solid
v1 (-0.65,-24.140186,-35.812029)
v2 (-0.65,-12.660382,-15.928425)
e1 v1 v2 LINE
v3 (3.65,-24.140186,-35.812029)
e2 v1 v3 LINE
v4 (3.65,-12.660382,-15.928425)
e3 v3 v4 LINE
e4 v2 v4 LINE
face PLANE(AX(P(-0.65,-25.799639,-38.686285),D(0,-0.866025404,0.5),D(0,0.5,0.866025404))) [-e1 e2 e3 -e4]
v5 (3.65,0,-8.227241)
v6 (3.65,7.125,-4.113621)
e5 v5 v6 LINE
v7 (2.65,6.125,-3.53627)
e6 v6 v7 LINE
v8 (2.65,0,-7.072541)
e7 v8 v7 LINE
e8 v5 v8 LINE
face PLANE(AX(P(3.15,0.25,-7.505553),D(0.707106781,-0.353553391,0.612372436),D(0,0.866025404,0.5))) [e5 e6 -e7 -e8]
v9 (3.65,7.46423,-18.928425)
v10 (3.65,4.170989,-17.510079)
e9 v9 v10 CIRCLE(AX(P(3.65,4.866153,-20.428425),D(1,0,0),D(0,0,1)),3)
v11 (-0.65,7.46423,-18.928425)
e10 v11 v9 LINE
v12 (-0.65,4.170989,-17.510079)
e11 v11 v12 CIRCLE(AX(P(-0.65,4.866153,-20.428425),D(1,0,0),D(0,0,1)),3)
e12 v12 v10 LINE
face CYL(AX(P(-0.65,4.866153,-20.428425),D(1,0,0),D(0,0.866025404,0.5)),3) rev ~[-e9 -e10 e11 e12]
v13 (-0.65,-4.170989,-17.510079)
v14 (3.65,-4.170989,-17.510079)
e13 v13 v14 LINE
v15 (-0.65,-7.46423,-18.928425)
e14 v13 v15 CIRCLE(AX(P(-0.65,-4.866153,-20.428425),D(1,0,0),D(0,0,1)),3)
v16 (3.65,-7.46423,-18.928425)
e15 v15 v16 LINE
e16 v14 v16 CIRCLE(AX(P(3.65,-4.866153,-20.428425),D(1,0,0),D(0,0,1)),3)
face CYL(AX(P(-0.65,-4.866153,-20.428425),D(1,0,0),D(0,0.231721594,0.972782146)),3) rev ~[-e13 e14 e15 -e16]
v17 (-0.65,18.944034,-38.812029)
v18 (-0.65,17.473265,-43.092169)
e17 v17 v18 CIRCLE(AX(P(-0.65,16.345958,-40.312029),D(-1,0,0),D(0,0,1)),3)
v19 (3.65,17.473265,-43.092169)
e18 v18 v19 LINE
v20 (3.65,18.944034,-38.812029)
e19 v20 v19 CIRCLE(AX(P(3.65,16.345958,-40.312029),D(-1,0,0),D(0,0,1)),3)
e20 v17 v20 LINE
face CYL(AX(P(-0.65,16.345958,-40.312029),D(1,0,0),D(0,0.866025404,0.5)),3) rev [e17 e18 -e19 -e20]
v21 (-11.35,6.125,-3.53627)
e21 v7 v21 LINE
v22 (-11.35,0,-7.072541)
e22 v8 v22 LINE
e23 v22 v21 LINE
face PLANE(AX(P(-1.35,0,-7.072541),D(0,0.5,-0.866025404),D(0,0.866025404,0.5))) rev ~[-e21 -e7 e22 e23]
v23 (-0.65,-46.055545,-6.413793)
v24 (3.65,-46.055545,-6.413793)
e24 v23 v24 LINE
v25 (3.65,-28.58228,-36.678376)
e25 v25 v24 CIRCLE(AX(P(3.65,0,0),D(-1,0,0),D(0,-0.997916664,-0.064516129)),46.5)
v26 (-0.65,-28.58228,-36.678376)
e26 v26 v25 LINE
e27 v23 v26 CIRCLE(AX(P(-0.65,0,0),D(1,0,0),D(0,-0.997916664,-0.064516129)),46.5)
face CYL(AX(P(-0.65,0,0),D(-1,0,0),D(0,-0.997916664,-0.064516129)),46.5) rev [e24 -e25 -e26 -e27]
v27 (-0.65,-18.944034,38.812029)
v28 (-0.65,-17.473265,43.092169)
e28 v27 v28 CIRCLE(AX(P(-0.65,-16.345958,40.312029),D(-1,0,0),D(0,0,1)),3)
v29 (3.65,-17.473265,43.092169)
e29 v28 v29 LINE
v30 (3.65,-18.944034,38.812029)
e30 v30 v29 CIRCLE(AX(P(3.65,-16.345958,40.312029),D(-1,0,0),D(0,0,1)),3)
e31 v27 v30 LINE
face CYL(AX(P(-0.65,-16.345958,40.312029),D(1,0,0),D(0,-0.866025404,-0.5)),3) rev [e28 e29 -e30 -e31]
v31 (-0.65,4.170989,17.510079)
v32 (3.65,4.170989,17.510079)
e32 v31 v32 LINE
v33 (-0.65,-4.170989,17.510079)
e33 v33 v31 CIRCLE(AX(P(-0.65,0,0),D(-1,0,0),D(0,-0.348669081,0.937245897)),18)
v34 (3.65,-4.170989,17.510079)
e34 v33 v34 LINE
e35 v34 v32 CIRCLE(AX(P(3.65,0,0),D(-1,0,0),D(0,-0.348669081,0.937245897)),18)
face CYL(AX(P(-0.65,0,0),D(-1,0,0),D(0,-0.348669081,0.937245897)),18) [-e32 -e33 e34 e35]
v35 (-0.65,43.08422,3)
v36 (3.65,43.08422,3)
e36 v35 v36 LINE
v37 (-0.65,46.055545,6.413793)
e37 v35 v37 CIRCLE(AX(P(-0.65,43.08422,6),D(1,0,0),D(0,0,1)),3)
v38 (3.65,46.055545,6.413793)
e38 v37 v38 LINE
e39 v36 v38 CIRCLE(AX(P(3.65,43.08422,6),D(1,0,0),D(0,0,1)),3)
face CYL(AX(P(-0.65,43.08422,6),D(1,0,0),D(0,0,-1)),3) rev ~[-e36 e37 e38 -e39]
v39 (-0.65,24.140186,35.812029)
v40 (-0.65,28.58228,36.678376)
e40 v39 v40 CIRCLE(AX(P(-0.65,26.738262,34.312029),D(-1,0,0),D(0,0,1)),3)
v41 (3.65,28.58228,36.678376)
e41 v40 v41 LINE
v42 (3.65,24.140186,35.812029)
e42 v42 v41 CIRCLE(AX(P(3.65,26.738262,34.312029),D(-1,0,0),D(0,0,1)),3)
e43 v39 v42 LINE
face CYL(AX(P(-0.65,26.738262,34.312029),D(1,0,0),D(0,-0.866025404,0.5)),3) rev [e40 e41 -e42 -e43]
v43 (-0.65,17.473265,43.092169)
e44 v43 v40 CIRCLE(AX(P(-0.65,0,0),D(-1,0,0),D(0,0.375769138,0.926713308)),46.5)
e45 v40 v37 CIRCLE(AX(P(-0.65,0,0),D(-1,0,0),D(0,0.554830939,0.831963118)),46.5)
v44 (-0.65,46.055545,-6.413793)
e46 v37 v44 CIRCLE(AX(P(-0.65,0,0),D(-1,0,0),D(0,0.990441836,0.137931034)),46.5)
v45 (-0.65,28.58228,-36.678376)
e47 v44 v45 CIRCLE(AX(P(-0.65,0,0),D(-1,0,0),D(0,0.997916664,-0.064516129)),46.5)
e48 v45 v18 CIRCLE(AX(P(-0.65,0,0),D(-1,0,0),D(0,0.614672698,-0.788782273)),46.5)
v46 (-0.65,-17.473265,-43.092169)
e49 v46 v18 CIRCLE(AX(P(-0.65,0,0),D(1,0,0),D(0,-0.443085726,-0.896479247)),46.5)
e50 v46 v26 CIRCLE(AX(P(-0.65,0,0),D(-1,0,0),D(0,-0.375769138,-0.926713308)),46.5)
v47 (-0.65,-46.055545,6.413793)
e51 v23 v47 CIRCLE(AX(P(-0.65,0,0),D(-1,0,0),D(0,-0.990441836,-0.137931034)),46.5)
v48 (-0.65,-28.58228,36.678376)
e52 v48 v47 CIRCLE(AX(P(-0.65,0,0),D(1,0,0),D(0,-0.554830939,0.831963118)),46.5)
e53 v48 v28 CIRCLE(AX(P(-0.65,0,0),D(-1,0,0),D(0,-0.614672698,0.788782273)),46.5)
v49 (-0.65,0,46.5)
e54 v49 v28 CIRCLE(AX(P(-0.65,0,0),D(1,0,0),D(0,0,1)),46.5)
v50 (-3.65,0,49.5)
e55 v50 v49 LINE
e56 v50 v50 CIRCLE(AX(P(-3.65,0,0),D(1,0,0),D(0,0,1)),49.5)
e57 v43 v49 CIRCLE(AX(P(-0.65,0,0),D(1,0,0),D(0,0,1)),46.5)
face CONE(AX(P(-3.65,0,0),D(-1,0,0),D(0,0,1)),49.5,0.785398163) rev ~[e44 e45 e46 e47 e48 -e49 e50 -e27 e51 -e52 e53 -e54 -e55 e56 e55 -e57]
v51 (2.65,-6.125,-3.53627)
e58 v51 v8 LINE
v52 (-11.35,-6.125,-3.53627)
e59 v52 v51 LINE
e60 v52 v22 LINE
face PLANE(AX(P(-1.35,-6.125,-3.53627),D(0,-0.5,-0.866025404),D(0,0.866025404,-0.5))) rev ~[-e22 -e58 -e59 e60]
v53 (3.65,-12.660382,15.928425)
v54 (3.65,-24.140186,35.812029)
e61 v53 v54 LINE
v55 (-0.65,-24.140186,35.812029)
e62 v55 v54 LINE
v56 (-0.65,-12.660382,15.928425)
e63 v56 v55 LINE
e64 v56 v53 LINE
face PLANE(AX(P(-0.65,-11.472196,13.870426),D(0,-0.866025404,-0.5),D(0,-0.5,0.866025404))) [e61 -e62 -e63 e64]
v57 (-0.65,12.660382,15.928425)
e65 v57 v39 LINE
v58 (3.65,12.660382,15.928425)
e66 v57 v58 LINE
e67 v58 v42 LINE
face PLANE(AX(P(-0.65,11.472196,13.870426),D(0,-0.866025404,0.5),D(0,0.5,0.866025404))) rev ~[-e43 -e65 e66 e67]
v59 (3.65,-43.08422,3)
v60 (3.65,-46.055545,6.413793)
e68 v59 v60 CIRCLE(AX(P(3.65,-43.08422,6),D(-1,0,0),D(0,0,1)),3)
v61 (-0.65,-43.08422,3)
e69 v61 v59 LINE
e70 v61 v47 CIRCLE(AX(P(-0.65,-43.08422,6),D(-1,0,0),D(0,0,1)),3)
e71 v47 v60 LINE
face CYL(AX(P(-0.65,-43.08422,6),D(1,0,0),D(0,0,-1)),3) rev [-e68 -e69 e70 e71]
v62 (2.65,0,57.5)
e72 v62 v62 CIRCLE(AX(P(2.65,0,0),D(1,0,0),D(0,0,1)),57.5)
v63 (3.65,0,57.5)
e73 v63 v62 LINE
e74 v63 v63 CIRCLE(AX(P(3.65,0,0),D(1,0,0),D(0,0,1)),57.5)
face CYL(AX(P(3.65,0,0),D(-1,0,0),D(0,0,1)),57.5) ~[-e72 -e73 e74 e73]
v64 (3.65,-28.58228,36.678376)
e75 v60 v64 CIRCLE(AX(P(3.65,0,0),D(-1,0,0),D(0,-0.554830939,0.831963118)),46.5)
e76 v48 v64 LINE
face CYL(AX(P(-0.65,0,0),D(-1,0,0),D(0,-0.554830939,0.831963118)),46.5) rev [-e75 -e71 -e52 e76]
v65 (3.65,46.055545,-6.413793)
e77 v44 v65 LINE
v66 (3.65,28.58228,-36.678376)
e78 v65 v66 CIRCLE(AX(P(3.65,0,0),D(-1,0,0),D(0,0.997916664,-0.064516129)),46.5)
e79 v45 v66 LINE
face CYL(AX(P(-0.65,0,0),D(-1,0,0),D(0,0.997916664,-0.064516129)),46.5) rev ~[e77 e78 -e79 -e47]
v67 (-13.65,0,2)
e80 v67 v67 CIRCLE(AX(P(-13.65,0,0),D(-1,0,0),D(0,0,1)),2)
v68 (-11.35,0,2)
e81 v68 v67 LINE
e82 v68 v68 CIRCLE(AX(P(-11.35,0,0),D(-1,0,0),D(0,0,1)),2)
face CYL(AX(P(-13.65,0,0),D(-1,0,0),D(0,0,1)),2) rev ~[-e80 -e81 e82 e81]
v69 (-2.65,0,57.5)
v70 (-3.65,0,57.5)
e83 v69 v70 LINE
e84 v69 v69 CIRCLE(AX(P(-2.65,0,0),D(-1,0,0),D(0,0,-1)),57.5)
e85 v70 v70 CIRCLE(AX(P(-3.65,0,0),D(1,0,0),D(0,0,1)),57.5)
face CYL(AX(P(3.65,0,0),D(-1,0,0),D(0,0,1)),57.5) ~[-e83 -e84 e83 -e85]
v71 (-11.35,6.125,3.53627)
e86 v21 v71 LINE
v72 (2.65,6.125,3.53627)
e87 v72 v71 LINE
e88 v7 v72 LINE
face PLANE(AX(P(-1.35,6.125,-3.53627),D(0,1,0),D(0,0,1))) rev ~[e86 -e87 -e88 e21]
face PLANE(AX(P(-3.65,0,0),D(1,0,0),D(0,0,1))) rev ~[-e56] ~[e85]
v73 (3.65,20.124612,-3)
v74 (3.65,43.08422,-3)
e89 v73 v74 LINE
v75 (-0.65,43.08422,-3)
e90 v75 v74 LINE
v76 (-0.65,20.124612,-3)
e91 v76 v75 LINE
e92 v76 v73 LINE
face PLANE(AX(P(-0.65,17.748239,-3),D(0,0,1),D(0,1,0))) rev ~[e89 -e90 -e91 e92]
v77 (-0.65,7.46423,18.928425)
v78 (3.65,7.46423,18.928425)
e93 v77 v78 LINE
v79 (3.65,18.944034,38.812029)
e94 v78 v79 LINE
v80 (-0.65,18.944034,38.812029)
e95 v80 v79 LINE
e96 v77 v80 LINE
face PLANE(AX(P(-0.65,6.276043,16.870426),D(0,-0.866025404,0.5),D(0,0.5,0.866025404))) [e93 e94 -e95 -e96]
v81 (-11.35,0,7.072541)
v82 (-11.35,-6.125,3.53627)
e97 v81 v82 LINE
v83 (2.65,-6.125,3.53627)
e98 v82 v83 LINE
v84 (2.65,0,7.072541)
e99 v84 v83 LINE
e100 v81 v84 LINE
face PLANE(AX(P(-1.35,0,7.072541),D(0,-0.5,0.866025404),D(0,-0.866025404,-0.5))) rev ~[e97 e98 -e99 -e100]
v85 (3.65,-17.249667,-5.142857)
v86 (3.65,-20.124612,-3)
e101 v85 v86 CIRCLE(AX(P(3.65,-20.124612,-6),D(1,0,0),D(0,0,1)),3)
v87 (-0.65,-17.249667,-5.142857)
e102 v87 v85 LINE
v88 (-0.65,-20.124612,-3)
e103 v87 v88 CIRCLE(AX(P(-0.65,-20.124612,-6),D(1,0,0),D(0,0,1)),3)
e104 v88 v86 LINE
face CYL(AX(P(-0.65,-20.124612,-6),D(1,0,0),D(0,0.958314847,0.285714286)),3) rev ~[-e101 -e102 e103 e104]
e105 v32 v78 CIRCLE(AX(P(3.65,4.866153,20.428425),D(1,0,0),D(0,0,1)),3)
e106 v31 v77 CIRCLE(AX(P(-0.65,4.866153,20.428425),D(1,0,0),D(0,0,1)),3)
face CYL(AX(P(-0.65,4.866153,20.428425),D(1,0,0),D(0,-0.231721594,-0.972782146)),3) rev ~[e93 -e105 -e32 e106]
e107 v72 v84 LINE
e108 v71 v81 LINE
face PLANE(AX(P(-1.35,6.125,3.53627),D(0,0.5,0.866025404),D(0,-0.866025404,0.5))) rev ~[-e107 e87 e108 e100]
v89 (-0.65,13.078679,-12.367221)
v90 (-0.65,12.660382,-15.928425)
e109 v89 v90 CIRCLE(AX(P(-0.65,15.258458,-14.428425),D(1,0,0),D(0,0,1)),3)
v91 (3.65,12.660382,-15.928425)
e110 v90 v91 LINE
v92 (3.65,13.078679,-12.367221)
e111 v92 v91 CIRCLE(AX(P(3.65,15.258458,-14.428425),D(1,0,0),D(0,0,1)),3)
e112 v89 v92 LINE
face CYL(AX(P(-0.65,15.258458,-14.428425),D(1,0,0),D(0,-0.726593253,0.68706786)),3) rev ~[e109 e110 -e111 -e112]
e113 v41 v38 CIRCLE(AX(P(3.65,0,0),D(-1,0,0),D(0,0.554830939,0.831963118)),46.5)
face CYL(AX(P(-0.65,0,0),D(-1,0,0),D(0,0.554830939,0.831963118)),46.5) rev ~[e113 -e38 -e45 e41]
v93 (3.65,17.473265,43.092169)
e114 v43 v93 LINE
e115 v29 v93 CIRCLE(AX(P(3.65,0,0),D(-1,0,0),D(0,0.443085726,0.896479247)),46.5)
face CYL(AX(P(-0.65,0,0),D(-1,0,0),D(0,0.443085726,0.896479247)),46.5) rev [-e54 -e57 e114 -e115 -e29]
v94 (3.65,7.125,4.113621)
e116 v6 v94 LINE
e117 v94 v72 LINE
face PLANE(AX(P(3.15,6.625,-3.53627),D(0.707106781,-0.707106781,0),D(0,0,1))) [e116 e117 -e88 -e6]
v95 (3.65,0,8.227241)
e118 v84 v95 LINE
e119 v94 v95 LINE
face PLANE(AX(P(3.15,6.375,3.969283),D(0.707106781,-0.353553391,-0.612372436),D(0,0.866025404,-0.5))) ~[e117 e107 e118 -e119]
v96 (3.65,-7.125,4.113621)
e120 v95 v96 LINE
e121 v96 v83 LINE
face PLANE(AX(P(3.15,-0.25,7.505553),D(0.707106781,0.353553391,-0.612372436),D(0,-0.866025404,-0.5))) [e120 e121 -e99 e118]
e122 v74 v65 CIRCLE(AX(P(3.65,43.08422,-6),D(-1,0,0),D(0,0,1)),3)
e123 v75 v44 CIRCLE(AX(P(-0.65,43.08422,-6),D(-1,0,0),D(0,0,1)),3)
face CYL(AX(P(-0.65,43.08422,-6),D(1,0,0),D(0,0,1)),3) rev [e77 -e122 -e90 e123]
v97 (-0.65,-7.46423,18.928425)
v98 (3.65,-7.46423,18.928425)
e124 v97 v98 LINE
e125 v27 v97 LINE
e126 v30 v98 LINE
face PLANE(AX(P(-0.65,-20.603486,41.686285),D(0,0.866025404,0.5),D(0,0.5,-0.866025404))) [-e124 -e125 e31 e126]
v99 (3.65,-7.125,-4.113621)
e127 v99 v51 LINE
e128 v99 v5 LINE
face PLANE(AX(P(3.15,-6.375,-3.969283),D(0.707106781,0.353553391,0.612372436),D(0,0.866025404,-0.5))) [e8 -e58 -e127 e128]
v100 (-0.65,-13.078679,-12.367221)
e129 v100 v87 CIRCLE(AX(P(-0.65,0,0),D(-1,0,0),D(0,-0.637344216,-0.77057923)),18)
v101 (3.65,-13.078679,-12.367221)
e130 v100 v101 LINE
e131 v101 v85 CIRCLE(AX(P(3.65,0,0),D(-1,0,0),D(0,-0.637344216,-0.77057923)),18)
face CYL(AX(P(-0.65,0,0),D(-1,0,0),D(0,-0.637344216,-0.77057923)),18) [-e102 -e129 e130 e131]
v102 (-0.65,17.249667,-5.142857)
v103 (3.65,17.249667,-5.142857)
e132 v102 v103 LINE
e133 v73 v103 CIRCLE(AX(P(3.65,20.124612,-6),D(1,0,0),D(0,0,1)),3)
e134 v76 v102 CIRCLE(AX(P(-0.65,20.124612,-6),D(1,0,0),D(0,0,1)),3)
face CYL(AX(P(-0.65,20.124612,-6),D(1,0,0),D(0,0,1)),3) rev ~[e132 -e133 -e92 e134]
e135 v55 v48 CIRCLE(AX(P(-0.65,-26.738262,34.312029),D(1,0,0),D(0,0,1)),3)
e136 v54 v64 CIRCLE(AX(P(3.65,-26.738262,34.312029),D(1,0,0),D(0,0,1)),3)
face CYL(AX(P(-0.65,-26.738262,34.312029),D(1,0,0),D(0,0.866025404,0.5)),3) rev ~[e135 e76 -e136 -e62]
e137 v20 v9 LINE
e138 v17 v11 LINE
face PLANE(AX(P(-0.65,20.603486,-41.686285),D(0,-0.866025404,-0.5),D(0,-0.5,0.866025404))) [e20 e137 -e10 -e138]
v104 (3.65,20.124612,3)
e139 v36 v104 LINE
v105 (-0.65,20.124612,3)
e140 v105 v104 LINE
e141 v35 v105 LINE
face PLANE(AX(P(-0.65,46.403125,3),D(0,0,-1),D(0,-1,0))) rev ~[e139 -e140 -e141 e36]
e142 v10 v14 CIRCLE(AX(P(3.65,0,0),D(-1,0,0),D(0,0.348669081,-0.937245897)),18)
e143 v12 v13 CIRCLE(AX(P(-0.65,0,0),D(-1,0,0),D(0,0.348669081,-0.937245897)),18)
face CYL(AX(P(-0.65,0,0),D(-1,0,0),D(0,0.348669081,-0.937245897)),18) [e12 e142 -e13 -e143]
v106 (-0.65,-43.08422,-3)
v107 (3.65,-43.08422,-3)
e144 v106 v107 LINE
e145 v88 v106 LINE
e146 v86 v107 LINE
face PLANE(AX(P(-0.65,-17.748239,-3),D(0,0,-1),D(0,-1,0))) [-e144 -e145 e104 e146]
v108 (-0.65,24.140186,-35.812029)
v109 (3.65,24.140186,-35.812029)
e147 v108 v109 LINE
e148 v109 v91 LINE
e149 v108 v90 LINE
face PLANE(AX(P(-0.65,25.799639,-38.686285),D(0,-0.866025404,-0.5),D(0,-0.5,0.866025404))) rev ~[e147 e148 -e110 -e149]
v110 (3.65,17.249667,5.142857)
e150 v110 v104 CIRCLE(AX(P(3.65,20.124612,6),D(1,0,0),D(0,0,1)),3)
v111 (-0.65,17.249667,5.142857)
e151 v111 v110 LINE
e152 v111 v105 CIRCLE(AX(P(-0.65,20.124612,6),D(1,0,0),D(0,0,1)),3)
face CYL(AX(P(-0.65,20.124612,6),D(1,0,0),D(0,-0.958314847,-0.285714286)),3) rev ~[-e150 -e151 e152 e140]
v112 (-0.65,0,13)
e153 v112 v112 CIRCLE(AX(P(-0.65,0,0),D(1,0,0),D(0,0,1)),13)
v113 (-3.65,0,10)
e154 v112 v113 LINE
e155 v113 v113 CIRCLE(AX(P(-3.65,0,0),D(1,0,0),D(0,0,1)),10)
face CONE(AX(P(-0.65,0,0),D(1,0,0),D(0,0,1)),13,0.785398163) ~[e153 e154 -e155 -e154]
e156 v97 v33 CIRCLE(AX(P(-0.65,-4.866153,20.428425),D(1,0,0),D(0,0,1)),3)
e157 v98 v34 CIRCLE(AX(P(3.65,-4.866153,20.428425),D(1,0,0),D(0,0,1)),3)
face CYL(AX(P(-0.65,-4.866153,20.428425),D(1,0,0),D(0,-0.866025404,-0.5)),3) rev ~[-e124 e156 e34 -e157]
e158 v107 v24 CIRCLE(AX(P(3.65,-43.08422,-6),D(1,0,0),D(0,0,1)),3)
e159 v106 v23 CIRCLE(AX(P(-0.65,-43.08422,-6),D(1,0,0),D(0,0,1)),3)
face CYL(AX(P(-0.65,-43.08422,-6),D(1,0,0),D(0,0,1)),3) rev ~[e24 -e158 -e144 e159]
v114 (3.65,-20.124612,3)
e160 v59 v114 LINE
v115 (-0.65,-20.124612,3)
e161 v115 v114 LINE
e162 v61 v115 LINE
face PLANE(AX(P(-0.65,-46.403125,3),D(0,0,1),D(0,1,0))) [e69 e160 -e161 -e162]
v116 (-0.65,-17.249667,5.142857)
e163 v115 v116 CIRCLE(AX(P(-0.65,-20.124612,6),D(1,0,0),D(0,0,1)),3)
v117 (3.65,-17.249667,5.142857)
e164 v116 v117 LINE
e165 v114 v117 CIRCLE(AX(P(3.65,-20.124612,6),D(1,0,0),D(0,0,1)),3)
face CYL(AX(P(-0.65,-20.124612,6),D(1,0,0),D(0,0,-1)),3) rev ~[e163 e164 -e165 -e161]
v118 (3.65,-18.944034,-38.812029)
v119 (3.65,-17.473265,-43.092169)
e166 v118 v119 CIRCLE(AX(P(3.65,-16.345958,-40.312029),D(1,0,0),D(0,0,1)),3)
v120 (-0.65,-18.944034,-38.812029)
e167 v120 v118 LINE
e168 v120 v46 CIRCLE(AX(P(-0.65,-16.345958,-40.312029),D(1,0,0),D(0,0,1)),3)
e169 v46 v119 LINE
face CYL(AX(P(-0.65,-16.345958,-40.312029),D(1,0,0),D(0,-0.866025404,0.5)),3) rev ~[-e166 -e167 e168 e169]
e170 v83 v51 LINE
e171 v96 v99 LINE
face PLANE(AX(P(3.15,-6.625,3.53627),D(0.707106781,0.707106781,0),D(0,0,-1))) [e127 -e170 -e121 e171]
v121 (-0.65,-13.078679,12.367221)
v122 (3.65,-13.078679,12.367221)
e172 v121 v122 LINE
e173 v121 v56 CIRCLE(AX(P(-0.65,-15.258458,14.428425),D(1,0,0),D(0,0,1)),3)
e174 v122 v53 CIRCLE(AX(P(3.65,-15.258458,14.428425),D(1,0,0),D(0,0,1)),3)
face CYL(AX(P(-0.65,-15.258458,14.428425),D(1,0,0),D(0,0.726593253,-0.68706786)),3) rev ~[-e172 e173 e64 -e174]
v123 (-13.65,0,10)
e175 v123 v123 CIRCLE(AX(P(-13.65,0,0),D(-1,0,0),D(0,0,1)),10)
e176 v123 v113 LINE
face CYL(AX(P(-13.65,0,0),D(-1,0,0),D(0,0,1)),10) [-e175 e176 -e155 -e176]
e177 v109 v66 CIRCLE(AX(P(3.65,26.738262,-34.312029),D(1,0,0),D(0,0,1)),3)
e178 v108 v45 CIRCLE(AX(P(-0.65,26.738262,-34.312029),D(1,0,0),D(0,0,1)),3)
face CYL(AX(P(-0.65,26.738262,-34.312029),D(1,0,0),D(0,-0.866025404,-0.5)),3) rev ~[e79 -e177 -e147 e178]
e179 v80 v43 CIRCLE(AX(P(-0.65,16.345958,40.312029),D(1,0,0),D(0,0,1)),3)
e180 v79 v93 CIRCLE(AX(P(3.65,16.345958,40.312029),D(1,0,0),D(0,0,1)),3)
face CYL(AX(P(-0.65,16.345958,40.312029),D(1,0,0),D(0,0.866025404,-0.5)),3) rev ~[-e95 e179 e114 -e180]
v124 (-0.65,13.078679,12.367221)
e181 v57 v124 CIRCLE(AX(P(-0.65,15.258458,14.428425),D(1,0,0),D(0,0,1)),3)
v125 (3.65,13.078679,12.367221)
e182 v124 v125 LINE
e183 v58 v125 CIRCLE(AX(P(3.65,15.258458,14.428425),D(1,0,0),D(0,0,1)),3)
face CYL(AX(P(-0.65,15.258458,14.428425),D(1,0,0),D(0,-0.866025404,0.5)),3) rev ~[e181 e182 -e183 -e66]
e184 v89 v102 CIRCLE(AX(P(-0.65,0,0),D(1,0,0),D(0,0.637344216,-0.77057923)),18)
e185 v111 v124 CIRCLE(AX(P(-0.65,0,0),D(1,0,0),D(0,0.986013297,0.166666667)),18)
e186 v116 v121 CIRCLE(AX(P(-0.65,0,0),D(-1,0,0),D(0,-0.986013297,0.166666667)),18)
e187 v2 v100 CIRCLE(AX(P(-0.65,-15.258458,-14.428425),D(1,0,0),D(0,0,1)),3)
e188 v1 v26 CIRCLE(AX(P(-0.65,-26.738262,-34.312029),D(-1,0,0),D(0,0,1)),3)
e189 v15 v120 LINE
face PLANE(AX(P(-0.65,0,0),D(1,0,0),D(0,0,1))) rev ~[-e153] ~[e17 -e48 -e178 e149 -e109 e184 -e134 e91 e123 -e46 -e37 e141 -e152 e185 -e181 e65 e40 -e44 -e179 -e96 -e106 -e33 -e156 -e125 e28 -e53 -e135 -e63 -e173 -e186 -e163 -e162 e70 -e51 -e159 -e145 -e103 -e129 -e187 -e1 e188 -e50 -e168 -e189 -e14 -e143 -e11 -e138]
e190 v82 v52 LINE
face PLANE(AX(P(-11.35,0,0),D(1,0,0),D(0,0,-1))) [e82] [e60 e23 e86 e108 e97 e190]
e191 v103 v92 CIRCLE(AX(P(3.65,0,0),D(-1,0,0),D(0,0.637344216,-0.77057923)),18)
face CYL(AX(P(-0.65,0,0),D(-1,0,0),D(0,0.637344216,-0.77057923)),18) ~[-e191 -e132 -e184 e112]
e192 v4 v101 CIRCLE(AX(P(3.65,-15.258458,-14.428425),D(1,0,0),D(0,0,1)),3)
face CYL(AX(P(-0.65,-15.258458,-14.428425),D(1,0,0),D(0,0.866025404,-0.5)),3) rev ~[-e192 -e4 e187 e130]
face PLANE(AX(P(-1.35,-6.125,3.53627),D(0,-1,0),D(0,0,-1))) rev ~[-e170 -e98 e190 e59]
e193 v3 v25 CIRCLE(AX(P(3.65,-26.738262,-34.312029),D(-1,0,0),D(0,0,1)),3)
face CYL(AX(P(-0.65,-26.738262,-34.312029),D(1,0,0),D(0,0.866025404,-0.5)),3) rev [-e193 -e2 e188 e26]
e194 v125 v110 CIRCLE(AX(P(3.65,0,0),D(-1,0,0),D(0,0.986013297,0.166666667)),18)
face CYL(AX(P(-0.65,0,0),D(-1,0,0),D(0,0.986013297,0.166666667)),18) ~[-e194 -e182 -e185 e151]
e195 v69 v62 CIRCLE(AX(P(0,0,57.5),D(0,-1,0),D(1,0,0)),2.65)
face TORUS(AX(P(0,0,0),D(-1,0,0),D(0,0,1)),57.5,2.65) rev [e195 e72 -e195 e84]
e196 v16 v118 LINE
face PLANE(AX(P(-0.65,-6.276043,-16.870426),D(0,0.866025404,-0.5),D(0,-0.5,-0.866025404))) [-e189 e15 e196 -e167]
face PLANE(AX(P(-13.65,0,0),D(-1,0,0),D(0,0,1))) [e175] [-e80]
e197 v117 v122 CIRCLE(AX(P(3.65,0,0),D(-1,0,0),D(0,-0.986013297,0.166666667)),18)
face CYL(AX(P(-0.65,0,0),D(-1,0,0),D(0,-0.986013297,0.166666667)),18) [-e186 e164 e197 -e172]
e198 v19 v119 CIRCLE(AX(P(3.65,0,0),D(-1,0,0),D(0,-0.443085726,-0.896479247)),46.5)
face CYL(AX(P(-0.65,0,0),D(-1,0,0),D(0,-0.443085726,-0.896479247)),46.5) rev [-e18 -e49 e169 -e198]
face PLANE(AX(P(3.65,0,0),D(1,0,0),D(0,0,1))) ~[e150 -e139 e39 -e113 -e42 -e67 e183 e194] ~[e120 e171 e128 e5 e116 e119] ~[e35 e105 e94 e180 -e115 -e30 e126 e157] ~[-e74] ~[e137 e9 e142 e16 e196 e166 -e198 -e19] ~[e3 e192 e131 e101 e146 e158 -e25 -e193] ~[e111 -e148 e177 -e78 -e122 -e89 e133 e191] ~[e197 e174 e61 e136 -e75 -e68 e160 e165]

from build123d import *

# Parameters (mm, degrees)
SKETCH2_R           = 2.649999999999999
CUT_EXTRUDE1_DEPTH  = 5
SKETCH5_R           = 2
CUT_EXTRUDE2_DEPTH  = 5
BOSS_EXTRUDE1_START = 10
SKETCH6_R           = 10
SKETCH6_R_2         = 2
BOSS_EXTRUDE1_DEPTH = 10
CUT_EXTRUDE3_DEPTH  = 10
CUT_EXTRUDE4_DEPTH  = 90.00000000000003
FILLET1_R           = 3
CHAMFER1_SIZE       = 1


with BuildPart() as part:
    # Sketch1 → Revolve1 (revolve)
    with BuildSketch(Plane(origin=(0, 0, 0), x_dir=(1, 0, 0), z_dir=(0, 1, 0)), mode=Mode.PRIVATE) as revolve1_sk:
        Polygon((3.65, 0), (3.65, 57.5), (-3.65, 57.5), (-3.65, 49.5), (-0.6499999999999997, 46.5), (-0.6499999999999951, 16.5), (-0.6499999999999819, 12.999999999999988), (-3.650000000000002, 9.999999999999792), (-3.65, 0), align=None)
    revolve(revolve1_sk.sketch.rotate(Axis((-3.65, 0, 0), (1, 0, 0)), 180), axis=Axis((-3.65, 0, 0), (1, 0, 0)))

    # Sketch2 → Cut-Revolve1 (revolve, cut)
    with BuildSketch(Plane(origin=(0, 0, 0), x_dir=(1, 0, 0), z_dir=(0, 1, 0)), mode=Mode.PRIVATE) as cut_revolve1_sk:
        with Locations((0, 57.5)):
            Circle(SKETCH2_R)
    revolve(cut_revolve1_sk.sketch.rotate(Axis((-3.65, 0, 0), (1, 0, 0)), 180), axis=Axis((-3.65, 0, 0), (1, 0, 0)), mode=Mode.SUBTRACT)

    # Sketch4 → Cut-Extrude1 (cut)
    with BuildSketch(Plane(origin=(3.65, 0, 0), x_dir=(0, 0, -1), z_dir=(1, 0, 0))):
        Polygon((7.0725407975729215, 1.73e-15), (3.536270398786459, 6.125000000000007), (-3.536270398786464, 6.125000000000006), (-7.072540797572923, -8.7e-16), (-3.53627039878646, -6.125000000000006), (3.5362703987864603, -6.125000000000006), align=None)
    extrude(amount=-CUT_EXTRUDE1_DEPTH, mode=Mode.SUBTRACT)

    # Sketch5 → Cut-Extrude2 (cut)
    with BuildSketch(Plane.ZY.offset(3.6500000000000012)):
        Circle(SKETCH5_R)
    extrude(amount=-CUT_EXTRUDE2_DEPTH, mode=Mode.SUBTRACT)

    # Sketch6 → Boss-Extrude1 (add)
    with BuildSketch(Plane.ZY.offset(3.6500000000000012).offset(BOSS_EXTRUDE1_START)):
        Circle(SKETCH6_R)
        Circle(SKETCH6_R_2, mode=Mode.SUBTRACT)
    extrude(amount=-BOSS_EXTRUDE1_DEPTH)

    # Sketch7 → Cut-Extrude3 (cut)
    with BuildSketch(Plane(origin=(-1.35, 0, 0), x_dir=(0, 0, -1), z_dir=(1, 0, 0))):
        Polygon((3.5362703987864603, -6.125000000000006), (7.0725407975729215, 1.73e-15), (3.536270398786459, 6.125000000000007), (-3.536270398786464, 6.125000000000006), (-7.072540797572923, -8.7e-16), (-3.53627039878646, -6.125000000000006), align=None)
    extrude(amount=-CUT_EXTRUDE3_DEPTH, mode=Mode.SUBTRACT)

    # Sketch8 → Cut-Extrude4 (cut)
    with BuildSketch(Plane.ZY.offset(0.6499999999999885)):
        with BuildLine():
            Line((14.088457268121097, 11.598076211355), (38.68628497385596, 25.79963865874104))
            ThreePointArc((38.68628497385596, 25.79963865874104), (23.24999999999963, 40.2701812759766), (2.999999999999999, 46.40312489477406))
            Line((2.999999999999999, 46.40312489477406), (3.0000000000000164, 18.00000000000186))
            Line((3.0000000000000164, 18.00000000000186), (3, 17.748239349298846))
            ThreePointArc((3, 17.748239349298846), (8.999999999999696, 15.588457268120239), (13.870426148938957, 11.4721958860035))
            Line((13.870426148938957, 11.4721958860035), (14.088457268121097, 11.598076211355))
        make_face()
        with BuildLine():
            Line((-2.9999999999999827, 18.000000000001936), (-2.999999999999999, 46.40312489477406))
            ThreePointArc((-2.999999999999999, 46.40312489477406), (-23.25000000000001, 40.27018127597639), (-38.68628497385646, 25.799638658740314))
            Line((-38.68628497385646, 25.799638658740314), (-14.08845726812106, 11.598076211354021))
            Line((-14.08845726812106, 11.598076211354021), (-13.870426148939515, 11.472195886002819))
            ThreePointArc((-13.870426148939515, 11.472195886002819), (-9.000000000000009, 15.588457268119885), (-3, 17.748239349298846))
            Line((-3, 17.748239349298846), (-2.9999999999999827, 18.000000000001936))
        make_face()
        with BuildLine():
            Line((17.088457268121093, 6.401923788647327), (41.68628497385644, 20.603486236033717))
            ThreePointArc((41.68628497385644, 20.603486236033717), (46.5, 4.2591e-13), (41.686284973856814, -20.603486236032953))
            Line((41.686284973856814, -20.603486236032953), (17.088457268121957, -6.401923788646879))
            Line((17.088457268121957, -6.401923788646879), (16.870426148939835, -6.276043463295346))
            ThreePointArc((16.870426148939835, -6.276043463295346), (18.000000000000146, 4.3265e-13), (16.870426148939533, 6.276043463296158))
            Line((16.870426148939533, 6.276043463296158), (17.088457268121093, 6.401923788647327))
        make_face()
        with BuildLine():
            Line((14.088457268121054, -11.598076211354028), (38.686284973856445, -25.799638658740335))
            ThreePointArc((38.686284973856445, -25.799638658740335), (23.25000000000037, -40.27018127597618), (3.00000000000084, -46.403124894773995))
            Line((3.00000000000084, -46.403124894773995), (3.0000000000008593, -18.000000000001883))
            Line((3.0000000000008593, -18.000000000001883), (3.000000000000877, -17.748239349298846))
            ThreePointArc((3.000000000000877, -17.748239349298846), (9.000000000000448, -15.588457268119802), (13.87042614893951, -11.472195886002828))
            Line((13.87042614893951, -11.472195886002828), (14.088457268121054, -11.598076211354028))
        make_face()
        with BuildLine():
            Line((-3.0000000000000413, -18.000000000001357), (-2.9999999999999933, -46.40312489477406))
            ThreePointArc((-2.9999999999999933, -46.40312489477406), (-23.24999999999963, -40.2701812759766), (-38.68628497385596, -25.799638658741056))
            Line((-38.68628497385596, -25.799638658741056), (-14.088457268121093, -11.598076211355007))
            Line((-14.088457268121093, -11.598076211355007), (-13.870426148938956, -11.472195886003506))
            ThreePointArc((-13.870426148938956, -11.472195886003506), (-8.999999999999696, -15.588457268120242), (-3.000000000000022, -17.748239349298988))
            Line((-3.000000000000022, -17.748239349298988), (-3.0000000000000413, -18.000000000001357))
        make_face()
        with BuildLine():
            Line((-17.088457268121093, -6.401923788647334), (-41.68628497385644, -20.603486236033735))
            ThreePointArc((-41.68628497385644, -20.603486236033735), (-46.5, -4.2796e-13), (-41.68628497385683, 20.60348623603293))
            Line((-41.68628497385683, 20.60348623603293), (-17.08845726812196, 6.40192378864687))
            Line((-17.08845726812196, 6.40192378864687), (-16.87042614893984, 6.276043463295337))
            ThreePointArc((-16.87042614893984, 6.276043463295337), (-18.000000000000146, -4.4544e-13), (-16.870426148939533, -6.276043463296166))
            Line((-16.870426148939533, -6.276043463296166), (-17.088457268121093, -6.401923788647334))
        make_face()
    extrude(amount=-CUT_EXTRUDE4_DEPTH, mode=Mode.SUBTRACT)

    # Fillet1
    fillet1_edges = [part.edges().sort_by_distance(p)[0] for p in [
        (1.5000000000000058, -11.47219588600283, 13.87042614893951),
        (1.5000000000000058, -25.799638658740335, 38.686284973856445),
        (1.5000000000000058, -46.403124894773995, 3.0000000000008398),
        (1.5000000000000058, -17.74823934929885, 3.0000000000008775),
        (1.5000000000000058, 6.276043463296158, 16.870426148939536),
        (1.5000000000000058, 20.603486236033717, 41.686284973856445),
        (1.5000000000000058, -20.603486236032957, 41.686284973856814),
        (1.5000000000000058, -6.276043463295347, 16.870426148939835),
        (1.5000000000000058, 17.748239349298842, -2.9999999999999982),
        (1.5000000000000058, 11.472195886002819, -13.870426148939515),
        (1.5000000000000058, 25.799638658740314, -38.68628497385646),
        (1.5000000000000058, 46.403124894774066, -2.999999999999999),
        (1.5000000000000058, -6.276043463296168, -16.87042614893953),
        (1.5000000000000058, -20.60348623603374, -41.686284973856445),
        (1.5000000000000058, 20.603486236032932, -41.68628497385683),
        (1.5000000000000058, 6.276043463295337, -16.870426148939835),
        (1.5000000000000058, 17.74823934929885, 3),
        (1.5000000000000058, 46.403124894774066, 3.0000000000000004),
        (1.5000000000000058, 25.799638658741042, 38.68628497385596),
        (1.5000000000000058, 11.472195886003501, 13.870426148938959),
        (1.5000000000000058, -17.748239349298988, -3.0000000000000218),
        (1.5000000000000058, -46.40312489477405, -2.999999999999994),
        (1.5000000000000058, -25.799638658741056, -38.686284973855955),
        (1.5000000000000058, -11.472195886003506, -13.870426148938956),
    ]]
    fillet(fillet1_edges, radius=FILLET1_R)

    # Chamfer1
    chamfer1_edges = [part.edges().sort_by_distance(p)[0] for p in [
        (3.65, -3.062500000000002, -5.304405598179691),
        (3.65, 3.0625000000000044, -5.30440559817969),
        (3.65, 6.125000000000007, 2.66e-15),
        (3.65, 3.0625000000000027, 5.304405598179693),
        (3.65, -3.0625000000000036, 5.304405598179692),
        (3.65, -6.125000000000006, 0),
    ]]
    chamfer(chamfer1_edges, length=CHAMFER1_SIZE)


solid = part.part
